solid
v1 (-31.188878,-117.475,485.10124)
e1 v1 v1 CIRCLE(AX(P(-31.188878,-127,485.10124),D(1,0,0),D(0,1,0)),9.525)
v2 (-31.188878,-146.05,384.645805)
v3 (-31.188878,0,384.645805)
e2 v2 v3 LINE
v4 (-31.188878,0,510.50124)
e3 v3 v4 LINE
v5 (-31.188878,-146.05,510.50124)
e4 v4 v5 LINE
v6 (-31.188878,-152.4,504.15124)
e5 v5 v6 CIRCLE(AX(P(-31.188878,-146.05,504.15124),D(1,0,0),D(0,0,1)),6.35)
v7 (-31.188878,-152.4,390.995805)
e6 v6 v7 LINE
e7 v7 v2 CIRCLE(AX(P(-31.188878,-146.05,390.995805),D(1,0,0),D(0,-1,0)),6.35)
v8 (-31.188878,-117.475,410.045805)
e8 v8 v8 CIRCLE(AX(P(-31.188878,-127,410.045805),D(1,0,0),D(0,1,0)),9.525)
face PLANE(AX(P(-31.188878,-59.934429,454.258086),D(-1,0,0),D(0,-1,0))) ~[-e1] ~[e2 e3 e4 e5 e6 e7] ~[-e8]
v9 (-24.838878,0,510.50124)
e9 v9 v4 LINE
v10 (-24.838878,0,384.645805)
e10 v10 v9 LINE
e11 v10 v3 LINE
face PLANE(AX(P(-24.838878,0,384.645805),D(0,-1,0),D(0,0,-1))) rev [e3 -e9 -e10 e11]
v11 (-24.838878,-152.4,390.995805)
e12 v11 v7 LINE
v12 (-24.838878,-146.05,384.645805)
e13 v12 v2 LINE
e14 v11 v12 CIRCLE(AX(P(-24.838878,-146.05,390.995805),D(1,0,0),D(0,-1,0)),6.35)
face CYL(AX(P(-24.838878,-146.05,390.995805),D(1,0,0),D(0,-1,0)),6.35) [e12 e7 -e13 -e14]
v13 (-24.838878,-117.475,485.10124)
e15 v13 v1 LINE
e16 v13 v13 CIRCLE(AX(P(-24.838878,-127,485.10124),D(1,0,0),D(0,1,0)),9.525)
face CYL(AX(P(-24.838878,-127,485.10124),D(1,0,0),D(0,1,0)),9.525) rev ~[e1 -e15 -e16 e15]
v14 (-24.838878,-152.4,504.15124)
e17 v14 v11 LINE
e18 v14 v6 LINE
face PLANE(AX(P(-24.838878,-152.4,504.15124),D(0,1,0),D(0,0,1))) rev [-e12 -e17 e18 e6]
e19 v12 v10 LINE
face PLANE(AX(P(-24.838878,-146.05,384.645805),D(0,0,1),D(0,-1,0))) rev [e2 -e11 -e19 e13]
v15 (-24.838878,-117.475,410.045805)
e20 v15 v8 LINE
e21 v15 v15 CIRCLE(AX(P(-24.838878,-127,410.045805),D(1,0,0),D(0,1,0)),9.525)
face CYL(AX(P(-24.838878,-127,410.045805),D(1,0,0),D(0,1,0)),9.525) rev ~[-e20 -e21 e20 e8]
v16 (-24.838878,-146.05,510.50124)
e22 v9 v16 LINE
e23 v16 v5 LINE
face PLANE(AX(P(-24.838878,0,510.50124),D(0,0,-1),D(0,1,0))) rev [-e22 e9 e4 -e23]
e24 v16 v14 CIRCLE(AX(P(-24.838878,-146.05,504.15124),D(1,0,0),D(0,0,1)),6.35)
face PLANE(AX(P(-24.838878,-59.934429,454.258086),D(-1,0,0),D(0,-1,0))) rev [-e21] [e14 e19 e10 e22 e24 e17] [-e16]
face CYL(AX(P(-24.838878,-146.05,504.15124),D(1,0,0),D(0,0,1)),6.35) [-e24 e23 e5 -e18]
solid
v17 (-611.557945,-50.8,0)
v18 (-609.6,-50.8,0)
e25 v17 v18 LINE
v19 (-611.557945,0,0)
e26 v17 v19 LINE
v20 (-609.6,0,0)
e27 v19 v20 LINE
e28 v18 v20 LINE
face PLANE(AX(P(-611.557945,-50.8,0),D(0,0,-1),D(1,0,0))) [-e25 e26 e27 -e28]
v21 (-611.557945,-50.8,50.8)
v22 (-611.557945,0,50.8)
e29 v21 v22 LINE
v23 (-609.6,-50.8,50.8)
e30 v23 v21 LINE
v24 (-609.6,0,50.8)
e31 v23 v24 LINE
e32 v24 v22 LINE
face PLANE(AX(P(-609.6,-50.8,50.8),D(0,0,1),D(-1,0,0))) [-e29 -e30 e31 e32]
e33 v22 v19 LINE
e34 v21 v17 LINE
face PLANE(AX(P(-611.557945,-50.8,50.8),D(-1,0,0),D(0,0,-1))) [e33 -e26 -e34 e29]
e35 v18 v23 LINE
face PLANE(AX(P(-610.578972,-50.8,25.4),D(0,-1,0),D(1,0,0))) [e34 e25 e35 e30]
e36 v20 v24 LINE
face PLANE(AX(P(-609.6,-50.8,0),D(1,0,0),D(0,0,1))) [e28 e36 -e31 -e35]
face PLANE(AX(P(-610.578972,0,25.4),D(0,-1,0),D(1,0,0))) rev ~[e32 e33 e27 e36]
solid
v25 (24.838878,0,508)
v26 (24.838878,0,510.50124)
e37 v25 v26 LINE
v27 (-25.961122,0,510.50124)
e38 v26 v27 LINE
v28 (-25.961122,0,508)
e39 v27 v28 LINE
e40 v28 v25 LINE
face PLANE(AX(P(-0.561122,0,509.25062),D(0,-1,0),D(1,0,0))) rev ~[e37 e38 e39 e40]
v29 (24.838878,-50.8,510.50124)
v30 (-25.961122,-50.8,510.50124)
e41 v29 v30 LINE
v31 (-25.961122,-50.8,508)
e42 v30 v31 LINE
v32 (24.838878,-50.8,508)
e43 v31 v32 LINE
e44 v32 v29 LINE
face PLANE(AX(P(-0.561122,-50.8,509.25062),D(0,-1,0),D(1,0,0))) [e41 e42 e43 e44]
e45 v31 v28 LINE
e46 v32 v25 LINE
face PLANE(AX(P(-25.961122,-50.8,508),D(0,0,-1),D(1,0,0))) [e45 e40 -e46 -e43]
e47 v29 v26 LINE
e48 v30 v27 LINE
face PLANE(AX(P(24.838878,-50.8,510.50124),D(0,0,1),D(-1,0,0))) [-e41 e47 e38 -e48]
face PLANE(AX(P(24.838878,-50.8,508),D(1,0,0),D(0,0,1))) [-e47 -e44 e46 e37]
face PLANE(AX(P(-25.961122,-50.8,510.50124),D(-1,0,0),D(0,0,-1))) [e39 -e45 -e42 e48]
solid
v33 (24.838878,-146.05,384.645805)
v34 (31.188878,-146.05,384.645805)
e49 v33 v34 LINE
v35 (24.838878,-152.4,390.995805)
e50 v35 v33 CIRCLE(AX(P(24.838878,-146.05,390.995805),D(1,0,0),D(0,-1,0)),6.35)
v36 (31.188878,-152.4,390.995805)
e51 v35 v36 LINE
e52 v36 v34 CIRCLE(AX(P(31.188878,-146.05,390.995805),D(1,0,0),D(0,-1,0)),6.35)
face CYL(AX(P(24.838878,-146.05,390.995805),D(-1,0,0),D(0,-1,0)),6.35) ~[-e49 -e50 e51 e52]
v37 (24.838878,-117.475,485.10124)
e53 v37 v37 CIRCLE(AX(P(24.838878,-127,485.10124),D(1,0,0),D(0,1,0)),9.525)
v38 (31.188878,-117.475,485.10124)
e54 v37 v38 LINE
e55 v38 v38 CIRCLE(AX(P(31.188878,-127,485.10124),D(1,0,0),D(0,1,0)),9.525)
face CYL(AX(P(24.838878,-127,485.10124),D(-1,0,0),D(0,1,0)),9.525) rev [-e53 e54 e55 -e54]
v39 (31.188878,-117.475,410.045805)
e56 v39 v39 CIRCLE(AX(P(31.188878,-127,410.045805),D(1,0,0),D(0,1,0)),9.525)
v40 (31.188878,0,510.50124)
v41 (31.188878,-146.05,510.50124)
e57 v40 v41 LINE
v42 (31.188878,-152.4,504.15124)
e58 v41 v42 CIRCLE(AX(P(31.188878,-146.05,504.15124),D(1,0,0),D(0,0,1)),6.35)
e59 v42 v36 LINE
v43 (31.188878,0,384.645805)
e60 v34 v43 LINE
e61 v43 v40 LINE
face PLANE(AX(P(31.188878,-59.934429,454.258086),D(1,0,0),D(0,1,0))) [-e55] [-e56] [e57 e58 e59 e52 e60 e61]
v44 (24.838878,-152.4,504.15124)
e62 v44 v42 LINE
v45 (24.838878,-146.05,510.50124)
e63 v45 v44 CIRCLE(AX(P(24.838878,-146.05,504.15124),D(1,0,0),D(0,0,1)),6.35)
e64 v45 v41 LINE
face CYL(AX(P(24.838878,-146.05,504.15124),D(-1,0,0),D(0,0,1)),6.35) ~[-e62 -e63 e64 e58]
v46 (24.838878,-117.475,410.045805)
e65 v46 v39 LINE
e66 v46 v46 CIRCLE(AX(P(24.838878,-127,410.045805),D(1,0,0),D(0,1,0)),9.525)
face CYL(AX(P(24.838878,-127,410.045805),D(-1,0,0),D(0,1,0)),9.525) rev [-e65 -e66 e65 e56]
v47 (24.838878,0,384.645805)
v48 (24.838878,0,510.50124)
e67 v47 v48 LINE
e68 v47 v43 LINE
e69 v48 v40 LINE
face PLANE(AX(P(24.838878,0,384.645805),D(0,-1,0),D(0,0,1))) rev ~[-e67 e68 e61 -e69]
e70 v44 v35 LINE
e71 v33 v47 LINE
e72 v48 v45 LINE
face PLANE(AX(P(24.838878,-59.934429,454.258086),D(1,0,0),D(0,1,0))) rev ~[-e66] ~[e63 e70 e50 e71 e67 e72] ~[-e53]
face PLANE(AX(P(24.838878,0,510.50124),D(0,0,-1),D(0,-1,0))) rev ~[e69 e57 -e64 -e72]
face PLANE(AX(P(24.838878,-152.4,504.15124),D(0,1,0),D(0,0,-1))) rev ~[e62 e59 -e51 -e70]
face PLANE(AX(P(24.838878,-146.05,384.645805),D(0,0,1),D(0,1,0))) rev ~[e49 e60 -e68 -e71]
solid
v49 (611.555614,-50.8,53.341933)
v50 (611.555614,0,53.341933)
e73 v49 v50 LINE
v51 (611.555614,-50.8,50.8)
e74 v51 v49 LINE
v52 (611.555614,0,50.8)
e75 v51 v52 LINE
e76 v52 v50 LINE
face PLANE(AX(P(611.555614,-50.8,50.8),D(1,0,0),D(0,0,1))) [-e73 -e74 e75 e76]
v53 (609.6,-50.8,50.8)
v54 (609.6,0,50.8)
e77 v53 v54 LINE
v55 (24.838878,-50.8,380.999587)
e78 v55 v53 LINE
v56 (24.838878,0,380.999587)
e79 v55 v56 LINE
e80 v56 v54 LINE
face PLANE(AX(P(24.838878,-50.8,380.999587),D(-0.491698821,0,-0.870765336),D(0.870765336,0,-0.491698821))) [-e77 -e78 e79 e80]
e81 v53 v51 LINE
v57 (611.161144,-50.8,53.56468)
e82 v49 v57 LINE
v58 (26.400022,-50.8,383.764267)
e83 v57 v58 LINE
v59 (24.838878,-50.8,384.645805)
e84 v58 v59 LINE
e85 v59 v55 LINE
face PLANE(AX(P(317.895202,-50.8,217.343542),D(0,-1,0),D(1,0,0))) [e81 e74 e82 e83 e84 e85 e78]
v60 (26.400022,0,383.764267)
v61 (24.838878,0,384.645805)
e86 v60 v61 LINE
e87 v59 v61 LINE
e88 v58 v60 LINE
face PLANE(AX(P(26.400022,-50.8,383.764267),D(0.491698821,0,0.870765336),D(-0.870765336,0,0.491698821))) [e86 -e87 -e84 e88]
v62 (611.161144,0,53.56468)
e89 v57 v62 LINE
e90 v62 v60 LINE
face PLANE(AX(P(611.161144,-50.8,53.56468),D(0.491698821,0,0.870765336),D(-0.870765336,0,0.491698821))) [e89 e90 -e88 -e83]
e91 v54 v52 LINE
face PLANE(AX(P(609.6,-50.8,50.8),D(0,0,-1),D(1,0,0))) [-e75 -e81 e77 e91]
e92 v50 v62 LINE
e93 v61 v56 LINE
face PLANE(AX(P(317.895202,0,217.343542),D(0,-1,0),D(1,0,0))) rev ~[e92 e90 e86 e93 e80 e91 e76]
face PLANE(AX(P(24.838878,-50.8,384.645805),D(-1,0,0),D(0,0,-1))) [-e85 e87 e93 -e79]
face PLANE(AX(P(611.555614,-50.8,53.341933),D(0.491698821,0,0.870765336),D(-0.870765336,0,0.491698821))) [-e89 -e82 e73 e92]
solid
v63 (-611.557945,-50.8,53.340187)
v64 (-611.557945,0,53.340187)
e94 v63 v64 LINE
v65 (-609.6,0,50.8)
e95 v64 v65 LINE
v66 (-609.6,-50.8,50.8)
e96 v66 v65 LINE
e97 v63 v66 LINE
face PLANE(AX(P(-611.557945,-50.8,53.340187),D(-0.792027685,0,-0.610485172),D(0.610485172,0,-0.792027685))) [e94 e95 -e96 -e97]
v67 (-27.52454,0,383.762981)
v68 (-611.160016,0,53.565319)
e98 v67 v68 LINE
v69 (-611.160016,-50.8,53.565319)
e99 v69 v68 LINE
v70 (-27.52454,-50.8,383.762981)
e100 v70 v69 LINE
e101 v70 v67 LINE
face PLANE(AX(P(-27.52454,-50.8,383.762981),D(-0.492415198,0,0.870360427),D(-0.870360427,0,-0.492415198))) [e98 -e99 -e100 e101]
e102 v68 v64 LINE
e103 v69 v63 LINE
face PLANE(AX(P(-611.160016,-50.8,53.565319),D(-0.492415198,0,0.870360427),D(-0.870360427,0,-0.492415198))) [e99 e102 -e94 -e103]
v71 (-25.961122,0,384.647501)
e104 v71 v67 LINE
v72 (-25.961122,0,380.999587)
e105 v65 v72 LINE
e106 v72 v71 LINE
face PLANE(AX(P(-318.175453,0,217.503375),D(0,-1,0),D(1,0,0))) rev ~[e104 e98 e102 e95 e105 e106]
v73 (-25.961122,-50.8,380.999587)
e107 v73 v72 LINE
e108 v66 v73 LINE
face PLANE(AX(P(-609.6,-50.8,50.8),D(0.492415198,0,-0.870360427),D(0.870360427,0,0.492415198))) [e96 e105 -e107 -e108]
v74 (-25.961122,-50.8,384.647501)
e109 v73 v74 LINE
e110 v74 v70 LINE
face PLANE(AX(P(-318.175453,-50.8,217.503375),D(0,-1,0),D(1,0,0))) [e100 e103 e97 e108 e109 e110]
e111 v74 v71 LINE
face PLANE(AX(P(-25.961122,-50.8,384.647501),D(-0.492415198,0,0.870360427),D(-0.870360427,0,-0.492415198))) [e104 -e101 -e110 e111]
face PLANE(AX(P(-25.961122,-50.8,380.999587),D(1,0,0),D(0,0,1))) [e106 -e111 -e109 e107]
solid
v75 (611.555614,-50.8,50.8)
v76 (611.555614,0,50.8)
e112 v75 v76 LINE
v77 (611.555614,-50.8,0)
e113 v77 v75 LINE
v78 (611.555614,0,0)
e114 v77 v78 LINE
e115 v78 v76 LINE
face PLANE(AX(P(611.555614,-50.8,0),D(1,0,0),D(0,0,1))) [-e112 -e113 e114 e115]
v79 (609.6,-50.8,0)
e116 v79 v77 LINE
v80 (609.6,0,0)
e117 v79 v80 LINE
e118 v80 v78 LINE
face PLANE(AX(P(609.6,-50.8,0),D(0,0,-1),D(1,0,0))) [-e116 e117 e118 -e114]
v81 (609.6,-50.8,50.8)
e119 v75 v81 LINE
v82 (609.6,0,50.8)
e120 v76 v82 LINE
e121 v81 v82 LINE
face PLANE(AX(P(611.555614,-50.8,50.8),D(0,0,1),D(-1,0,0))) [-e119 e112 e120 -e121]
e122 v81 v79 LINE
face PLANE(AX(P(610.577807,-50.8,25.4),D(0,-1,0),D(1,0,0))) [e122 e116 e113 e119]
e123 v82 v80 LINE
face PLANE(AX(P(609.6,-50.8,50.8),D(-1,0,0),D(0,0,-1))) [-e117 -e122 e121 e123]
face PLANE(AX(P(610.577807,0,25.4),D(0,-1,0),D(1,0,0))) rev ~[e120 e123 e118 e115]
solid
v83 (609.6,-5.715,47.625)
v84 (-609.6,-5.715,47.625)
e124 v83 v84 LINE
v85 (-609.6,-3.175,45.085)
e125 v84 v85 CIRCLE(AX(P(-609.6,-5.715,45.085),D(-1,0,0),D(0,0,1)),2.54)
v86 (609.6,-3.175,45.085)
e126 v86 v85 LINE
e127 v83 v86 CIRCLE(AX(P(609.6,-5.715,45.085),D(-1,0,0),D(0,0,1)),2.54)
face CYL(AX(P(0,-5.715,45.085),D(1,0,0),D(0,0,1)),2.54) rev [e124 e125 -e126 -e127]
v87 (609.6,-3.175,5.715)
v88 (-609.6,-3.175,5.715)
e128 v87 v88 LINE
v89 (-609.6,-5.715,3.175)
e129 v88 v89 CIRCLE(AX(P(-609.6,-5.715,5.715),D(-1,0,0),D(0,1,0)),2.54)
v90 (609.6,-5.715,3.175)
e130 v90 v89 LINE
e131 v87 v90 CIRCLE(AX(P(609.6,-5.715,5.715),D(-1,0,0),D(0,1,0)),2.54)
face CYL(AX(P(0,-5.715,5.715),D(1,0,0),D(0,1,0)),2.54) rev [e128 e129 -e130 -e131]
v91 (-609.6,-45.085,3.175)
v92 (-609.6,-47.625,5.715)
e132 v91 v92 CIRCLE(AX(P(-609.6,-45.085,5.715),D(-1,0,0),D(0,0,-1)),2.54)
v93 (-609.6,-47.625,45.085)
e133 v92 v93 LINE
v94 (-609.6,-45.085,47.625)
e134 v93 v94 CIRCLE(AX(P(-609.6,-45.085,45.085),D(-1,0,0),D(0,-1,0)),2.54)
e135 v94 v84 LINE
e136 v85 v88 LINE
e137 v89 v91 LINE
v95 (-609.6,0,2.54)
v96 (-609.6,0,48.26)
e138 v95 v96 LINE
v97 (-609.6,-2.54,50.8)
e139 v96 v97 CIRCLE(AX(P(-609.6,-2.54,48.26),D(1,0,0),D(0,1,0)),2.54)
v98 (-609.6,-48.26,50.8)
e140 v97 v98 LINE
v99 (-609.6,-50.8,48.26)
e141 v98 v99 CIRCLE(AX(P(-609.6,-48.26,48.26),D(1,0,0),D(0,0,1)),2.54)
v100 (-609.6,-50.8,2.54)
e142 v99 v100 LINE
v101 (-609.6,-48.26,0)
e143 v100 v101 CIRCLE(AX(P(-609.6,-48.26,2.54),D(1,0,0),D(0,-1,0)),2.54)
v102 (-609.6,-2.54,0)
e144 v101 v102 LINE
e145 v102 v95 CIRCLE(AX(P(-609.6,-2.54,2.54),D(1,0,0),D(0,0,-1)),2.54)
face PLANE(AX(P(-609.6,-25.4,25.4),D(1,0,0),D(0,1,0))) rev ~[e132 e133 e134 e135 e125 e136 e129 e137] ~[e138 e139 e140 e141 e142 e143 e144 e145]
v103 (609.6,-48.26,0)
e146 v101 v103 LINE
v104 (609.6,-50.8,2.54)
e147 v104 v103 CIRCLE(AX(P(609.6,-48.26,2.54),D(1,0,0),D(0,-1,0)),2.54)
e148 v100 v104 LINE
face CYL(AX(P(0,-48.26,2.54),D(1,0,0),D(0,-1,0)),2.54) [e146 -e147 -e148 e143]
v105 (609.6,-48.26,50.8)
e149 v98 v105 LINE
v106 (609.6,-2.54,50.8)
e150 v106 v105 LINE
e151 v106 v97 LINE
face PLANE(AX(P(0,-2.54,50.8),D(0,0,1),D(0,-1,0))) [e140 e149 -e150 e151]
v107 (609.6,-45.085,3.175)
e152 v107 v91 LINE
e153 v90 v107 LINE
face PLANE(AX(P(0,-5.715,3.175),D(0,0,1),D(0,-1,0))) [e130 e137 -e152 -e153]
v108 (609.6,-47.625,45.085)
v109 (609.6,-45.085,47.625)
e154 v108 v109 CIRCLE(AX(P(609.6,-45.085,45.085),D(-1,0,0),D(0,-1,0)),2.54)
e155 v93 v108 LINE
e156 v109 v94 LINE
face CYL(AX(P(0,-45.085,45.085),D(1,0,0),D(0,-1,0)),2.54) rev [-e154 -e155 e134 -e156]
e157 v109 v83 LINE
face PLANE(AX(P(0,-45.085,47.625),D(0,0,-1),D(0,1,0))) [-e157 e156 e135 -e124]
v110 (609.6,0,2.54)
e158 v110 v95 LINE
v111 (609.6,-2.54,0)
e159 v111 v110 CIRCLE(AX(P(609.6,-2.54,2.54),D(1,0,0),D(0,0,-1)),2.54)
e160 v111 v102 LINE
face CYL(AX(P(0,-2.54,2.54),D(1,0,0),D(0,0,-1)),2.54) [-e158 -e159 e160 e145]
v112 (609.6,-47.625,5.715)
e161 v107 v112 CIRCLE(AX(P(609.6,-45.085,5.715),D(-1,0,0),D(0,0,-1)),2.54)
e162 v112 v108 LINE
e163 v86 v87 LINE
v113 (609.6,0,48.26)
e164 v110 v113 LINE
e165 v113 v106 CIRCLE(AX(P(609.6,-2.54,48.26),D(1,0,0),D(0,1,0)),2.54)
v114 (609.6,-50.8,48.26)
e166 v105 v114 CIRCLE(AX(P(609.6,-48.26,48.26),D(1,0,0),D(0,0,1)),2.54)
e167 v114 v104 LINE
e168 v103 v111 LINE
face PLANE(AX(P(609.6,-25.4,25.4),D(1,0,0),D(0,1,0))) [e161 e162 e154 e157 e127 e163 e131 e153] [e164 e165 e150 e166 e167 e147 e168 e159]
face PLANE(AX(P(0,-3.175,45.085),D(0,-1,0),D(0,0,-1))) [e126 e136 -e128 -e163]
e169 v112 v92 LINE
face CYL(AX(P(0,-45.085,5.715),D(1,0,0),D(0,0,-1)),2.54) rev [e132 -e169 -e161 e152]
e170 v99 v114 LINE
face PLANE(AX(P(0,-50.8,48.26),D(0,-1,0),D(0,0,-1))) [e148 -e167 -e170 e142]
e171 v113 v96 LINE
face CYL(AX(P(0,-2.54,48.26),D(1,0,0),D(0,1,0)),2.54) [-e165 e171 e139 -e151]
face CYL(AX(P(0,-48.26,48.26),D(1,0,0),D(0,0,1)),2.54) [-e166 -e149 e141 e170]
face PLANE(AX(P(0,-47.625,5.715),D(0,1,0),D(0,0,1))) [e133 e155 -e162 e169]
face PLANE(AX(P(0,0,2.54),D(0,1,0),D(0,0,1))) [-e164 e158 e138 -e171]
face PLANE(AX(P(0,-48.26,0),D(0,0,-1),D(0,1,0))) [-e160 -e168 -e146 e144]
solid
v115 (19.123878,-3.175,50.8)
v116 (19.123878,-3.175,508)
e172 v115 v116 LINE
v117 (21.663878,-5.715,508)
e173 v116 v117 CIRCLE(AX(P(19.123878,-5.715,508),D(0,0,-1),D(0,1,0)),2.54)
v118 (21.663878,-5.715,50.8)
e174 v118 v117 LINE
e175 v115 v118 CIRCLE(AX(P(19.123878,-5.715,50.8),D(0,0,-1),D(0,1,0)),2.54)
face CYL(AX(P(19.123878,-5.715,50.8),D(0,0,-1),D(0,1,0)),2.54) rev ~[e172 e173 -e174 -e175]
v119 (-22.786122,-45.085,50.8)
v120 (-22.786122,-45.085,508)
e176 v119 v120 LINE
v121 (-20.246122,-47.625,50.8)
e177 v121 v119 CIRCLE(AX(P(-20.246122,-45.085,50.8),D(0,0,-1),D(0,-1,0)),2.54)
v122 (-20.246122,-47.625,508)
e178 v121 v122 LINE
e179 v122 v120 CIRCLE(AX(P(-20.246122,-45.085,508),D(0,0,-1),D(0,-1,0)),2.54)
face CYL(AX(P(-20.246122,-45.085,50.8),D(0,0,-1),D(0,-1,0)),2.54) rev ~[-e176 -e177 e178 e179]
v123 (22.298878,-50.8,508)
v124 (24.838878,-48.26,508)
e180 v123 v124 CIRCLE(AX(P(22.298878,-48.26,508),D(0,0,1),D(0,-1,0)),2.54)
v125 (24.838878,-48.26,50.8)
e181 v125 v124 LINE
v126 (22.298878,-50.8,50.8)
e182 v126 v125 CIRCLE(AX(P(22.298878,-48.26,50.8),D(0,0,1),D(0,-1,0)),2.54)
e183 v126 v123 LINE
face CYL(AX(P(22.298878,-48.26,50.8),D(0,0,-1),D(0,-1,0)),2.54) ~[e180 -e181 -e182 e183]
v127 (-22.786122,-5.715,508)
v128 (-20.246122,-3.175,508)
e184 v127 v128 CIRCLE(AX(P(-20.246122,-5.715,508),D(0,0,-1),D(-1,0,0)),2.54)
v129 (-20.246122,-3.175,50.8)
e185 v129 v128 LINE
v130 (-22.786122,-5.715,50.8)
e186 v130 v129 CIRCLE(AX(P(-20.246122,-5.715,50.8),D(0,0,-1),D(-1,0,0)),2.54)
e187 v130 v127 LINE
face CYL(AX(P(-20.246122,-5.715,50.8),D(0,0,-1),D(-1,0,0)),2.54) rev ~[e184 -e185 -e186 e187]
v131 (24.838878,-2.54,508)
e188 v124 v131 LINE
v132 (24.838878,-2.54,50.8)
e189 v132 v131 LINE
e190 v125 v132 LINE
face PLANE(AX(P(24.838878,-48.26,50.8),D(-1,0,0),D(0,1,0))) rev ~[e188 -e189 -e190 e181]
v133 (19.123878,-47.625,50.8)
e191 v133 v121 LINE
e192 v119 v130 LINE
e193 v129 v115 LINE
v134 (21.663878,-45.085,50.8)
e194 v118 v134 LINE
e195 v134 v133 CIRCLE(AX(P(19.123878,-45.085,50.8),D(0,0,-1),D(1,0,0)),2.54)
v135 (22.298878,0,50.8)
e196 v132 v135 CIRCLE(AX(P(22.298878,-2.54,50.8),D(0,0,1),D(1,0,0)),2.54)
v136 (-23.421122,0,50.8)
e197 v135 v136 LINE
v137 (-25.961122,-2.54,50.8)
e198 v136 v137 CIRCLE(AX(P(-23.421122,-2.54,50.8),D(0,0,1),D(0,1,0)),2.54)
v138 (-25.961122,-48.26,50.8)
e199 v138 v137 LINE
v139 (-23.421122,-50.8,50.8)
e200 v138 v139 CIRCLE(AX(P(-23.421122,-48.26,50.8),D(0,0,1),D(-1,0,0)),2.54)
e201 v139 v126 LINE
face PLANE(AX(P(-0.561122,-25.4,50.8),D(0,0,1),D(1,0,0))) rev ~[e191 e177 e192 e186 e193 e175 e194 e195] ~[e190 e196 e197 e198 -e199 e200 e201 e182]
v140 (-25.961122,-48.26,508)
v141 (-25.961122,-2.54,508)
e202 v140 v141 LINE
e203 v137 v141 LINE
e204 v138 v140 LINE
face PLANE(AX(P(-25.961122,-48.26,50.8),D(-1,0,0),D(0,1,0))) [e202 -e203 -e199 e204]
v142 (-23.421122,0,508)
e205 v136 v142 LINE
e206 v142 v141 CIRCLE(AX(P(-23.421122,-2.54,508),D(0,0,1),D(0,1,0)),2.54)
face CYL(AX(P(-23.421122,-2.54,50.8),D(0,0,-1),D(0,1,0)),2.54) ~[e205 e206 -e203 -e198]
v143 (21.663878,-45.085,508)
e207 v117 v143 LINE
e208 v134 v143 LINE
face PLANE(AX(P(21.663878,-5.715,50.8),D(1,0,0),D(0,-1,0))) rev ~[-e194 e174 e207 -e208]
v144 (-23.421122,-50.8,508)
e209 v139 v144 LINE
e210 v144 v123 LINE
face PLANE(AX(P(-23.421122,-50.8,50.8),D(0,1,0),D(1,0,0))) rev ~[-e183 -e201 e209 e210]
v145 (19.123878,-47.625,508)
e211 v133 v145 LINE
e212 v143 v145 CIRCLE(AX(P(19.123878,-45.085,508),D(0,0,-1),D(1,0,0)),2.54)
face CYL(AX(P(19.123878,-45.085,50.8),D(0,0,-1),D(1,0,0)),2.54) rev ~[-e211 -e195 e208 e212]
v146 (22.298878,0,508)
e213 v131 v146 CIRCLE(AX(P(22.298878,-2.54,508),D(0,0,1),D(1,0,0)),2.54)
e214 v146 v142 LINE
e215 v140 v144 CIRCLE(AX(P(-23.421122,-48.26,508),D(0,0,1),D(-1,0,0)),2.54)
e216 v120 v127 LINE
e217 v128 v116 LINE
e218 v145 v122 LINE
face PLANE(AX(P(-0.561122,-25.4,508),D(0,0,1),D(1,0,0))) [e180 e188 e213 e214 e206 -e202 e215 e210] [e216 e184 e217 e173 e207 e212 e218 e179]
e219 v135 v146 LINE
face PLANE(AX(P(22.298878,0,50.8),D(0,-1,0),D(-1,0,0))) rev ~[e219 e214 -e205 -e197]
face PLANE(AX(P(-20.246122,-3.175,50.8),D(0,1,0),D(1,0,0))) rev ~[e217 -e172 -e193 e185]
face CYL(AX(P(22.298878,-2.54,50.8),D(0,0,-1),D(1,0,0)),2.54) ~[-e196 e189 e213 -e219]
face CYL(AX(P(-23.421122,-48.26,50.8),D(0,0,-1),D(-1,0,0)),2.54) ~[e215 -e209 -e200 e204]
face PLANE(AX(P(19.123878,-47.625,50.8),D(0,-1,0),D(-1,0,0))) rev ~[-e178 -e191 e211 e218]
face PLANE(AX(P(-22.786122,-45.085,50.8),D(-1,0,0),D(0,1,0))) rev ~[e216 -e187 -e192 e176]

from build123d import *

# Parameters (mm, degrees)
F1_DEPTH = 609.6
F2_W     = 50.8
F2_H     = 45.72
F3_DEPTH = 457.2
F5_DEPTH = 50.8
F6_DEPTH = 50.8
F7_R     = 9.525
F7_W     = 45.72
F7_H     = 123.354195476
F8_DEPTH = 6.35


with BuildPart() as f1:
    # F0 (on Right) → F1 (new body, symmetric)
    with BuildSketch(Plane.YZ):
        with BuildLine():
            Line((-2.54, 50.8), (-48.26, 50.8))
            ThreePointArc((-48.26, 50.8), (-50.0560512242, 50.0560512242), (-50.8, 48.26))
            Line((-50.8, 48.26), (-50.8, 2.54))
            ThreePointArc((-50.8, 2.54), (-50.0560512242, 0.7439487758), (-48.26, 0))
            Line((-48.26, 0), (-2.54, 0))
            ThreePointArc((-2.54, 0), (-0.7439487758, 0.7439487758), (0, 2.54))
            Line((0, 2.54), (0, 48.26))
            ThreePointArc((0, 48.26), (-0.7439487758, 50.0560512242), (-2.54, 50.8))
        make_face()
        with BuildLine():
            ThreePointArc((-47.625, 45.085), (-46.8810512242, 46.8810512242), (-45.085, 47.625))
            Line((-45.085, 47.625), (-5.715, 47.625))
            ThreePointArc((-5.715, 47.625), (-3.9189487758, 46.8810512242), (-3.175, 45.085))
            Line((-3.175, 45.085), (-3.175, 5.715))
            ThreePointArc((-3.175, 5.715), (-3.9189487758, 3.9189487758), (-5.715, 3.175))
            Line((-5.715, 3.175), (-45.085, 3.175))
            ThreePointArc((-45.085, 3.175), (-46.8810512242, 3.9189487758), (-47.625, 5.715))
            Line((-47.625, 5.715), (-47.625, 45.085))
        make_face(mode=Mode.SUBTRACT)
    extrude(amount=F1_DEPTH, both=True)


with BuildPart() as f3:
    # F2 (on face) → F3 (new body)
    with BuildSketch(Plane.XY.offset(50.8)):
        with Locations((-0.5611219996, -25.4)):
            Rectangle(F2_W, F2_H)
        with BuildLine():
            Line((-22.7861219996, -45.085), (-22.7861219996, -5.715))
            ThreePointArc((-22.7861219996, -5.715), (-22.0421732238, -3.9189487758), (-20.2461219996, -3.175))
            Line((-20.2461219996, -3.175), (19.1238780004, -3.175))
            ThreePointArc((19.1238780004, -3.175), (20.9199292246, -3.9189487758), (21.6638780004, -5.715))
            Line((21.6638780004, -5.715), (21.6638780004, -45.085))
            ThreePointArc((21.6638780004, -45.085), (20.9199292246, -46.8810512242), (19.1238780004, -47.625))
            Line((19.1238780004, -47.625), (-20.2461219996, -47.625))
            ThreePointArc((-20.2461219996, -47.625), (-22.0421732238, -46.8810512242), (-22.7861219996, -45.085))
        make_face(mode=Mode.SUBTRACT)
        with BuildLine():
            Line((24.8388780004, -48.26), (-25.9611219996, -48.26))
            ThreePointArc((-25.9611219996, -48.26), (-25.2171732238, -50.0560512242), (-23.4211219996, -50.8))
            Line((-23.4211219996, -50.8), (22.2988780004, -50.8))
            ThreePointArc((22.2988780004, -50.8), (24.0949292246, -50.0560512242), (24.8388780004, -48.26))
        make_face()
        with BuildLine():
            Line((22.2988780004, 0), (-23.4211219996, 0))
            ThreePointArc((-23.4211219996, 0), (-25.2171732238, -0.7439487758), (-25.9611219996, -2.54))
            Line((-25.9611219996, -2.54), (24.8388780004, -2.54))
            ThreePointArc((24.8388780004, -2.54), (24.0949292246, -0.7439487758), (22.2988780004, 0))
        make_face()
    extrude(amount=F3_DEPTH)


with BuildPart() as f5:
    # F4 (on face) → F5 (new body, through all)
    with BuildSketch(Plane.XZ.offset(50.8)):
        Polygon((609.6, 2.54), (609.6, 0), (611.555613627, 0), (611.555613627, 50.8), (609.6, 50.8), (609.6, 48.26), (609.6, 45.085), (609.6, 5.715), align=None)
    extrude(amount=-F5_DEPTH)


with BuildPart() as f5b:
    # F4 (on face) → F5, piece 2 (new body, through all)
    with BuildSketch(Plane.XZ.offset(50.8)):
        Polygon((-611.5579447979, 0), (-609.6, 0), (-609.6, 2.54), (-609.6, 48.26), (-609.6, 50.8), (-611.5579447979, 50.8), align=None)
    extrude(amount=-F5_DEPTH)


with BuildPart() as f5c:
    # F4 (on face) → F5, piece 3 (new body, through all)
    with BuildSketch(Plane.XZ.offset(50.8)):
        Polygon((22.2988780004, 508), (24.8388780004, 508), (24.8388780004, 510.501239761), (-25.9611219996, 510.501239761), (-25.9611219996, 508), (-23.4211219996, 508), align=None)
    extrude(amount=-F5_DEPTH)


with BuildPart() as f6:
    # F4 (on face) → F6 (new body, through all)
    with BuildSketch(Plane.XZ.offset(50.8)):
        Polygon((-611.5579447979, 53.3401869806), (-609.6, 50.8), (-25.9611219996, 380.9995868004), (-25.9611219996, 384.647500815), (-27.5245402519, 383.7629811567), (-611.1600160106, 53.5653192089), align=None)
    extrude(amount=-F6_DEPTH)


with BuildPart() as f6b:
    # F4 (on face) → F6, piece 2 (new body, through all)
    with BuildSketch(Plane.XZ.offset(50.8)):
        Polygon((609.6, 50.8), (611.555613627, 50.8), (611.555613627, 53.3419329357), (611.1611437555, 53.5646799407), (26.4000217559, 383.7642667412), (24.8388780004, 384.645804524), (24.8388780004, 380.9995868004), align=None)
    extrude(amount=-F6_DEPTH)


with BuildPart() as f8:
    # F7 (on face) → F8 (new body)
    with BuildSketch(Plane.YZ.offset(24.8388780004)):
        with BuildLine():
            Line((0, 384.645804524), (0, 508))
            Line((0, 508), (0, 510.501239761))
            Line((0, 510.501239761), (-50.8, 510.501239761))
            Line((-50.8, 510.501239761), (-146.05, 510.501239761))
            ThreePointArc((-146.05, 510.501239761), (-150.5401280605, 508.6413678215), (-152.4, 504.151239761))
            Line((-152.4, 504.151239761), (-152.4, 390.995804524))
            ThreePointArc((-152.4, 390.995804524), (-150.5401280605, 386.5056764635), (-146.05, 384.645804524))
            Line((-146.05, 384.645804524), (-50.8, 384.645804524))
            Line((-50.8, 384.645804524), (-48.26, 384.645804524))
            Line((-48.26, 384.645804524), (-48.26, 508))
            Line((-48.26, 508), (-2.54, 508))
            Line((-2.54, 508), (-2.54, 384.645804524))
            Line((-2.54, 384.645804524), (0, 384.645804524))
        make_face()
        with Locations((-127, 410.045804524)):
            Circle(F7_R, mode=Mode.SUBTRACT)
        with Locations((-127, 485.101239761)):
            Circle(F7_R, mode=Mode.SUBTRACT)
        with Locations((-25.4, 446.322902262)):
            Rectangle(F7_W, F7_H)
    extrude(amount=F8_DEPTH)


with BuildPart() as f9_1:
    # F9: instance of F8
    add(f8.part.mirror(Plane.YZ))


solid = Compound([f1.part, f3.part, f5.part, f5b.part, f5c.part, f6.part, f6b.part, f8.part, f9_1.part])
